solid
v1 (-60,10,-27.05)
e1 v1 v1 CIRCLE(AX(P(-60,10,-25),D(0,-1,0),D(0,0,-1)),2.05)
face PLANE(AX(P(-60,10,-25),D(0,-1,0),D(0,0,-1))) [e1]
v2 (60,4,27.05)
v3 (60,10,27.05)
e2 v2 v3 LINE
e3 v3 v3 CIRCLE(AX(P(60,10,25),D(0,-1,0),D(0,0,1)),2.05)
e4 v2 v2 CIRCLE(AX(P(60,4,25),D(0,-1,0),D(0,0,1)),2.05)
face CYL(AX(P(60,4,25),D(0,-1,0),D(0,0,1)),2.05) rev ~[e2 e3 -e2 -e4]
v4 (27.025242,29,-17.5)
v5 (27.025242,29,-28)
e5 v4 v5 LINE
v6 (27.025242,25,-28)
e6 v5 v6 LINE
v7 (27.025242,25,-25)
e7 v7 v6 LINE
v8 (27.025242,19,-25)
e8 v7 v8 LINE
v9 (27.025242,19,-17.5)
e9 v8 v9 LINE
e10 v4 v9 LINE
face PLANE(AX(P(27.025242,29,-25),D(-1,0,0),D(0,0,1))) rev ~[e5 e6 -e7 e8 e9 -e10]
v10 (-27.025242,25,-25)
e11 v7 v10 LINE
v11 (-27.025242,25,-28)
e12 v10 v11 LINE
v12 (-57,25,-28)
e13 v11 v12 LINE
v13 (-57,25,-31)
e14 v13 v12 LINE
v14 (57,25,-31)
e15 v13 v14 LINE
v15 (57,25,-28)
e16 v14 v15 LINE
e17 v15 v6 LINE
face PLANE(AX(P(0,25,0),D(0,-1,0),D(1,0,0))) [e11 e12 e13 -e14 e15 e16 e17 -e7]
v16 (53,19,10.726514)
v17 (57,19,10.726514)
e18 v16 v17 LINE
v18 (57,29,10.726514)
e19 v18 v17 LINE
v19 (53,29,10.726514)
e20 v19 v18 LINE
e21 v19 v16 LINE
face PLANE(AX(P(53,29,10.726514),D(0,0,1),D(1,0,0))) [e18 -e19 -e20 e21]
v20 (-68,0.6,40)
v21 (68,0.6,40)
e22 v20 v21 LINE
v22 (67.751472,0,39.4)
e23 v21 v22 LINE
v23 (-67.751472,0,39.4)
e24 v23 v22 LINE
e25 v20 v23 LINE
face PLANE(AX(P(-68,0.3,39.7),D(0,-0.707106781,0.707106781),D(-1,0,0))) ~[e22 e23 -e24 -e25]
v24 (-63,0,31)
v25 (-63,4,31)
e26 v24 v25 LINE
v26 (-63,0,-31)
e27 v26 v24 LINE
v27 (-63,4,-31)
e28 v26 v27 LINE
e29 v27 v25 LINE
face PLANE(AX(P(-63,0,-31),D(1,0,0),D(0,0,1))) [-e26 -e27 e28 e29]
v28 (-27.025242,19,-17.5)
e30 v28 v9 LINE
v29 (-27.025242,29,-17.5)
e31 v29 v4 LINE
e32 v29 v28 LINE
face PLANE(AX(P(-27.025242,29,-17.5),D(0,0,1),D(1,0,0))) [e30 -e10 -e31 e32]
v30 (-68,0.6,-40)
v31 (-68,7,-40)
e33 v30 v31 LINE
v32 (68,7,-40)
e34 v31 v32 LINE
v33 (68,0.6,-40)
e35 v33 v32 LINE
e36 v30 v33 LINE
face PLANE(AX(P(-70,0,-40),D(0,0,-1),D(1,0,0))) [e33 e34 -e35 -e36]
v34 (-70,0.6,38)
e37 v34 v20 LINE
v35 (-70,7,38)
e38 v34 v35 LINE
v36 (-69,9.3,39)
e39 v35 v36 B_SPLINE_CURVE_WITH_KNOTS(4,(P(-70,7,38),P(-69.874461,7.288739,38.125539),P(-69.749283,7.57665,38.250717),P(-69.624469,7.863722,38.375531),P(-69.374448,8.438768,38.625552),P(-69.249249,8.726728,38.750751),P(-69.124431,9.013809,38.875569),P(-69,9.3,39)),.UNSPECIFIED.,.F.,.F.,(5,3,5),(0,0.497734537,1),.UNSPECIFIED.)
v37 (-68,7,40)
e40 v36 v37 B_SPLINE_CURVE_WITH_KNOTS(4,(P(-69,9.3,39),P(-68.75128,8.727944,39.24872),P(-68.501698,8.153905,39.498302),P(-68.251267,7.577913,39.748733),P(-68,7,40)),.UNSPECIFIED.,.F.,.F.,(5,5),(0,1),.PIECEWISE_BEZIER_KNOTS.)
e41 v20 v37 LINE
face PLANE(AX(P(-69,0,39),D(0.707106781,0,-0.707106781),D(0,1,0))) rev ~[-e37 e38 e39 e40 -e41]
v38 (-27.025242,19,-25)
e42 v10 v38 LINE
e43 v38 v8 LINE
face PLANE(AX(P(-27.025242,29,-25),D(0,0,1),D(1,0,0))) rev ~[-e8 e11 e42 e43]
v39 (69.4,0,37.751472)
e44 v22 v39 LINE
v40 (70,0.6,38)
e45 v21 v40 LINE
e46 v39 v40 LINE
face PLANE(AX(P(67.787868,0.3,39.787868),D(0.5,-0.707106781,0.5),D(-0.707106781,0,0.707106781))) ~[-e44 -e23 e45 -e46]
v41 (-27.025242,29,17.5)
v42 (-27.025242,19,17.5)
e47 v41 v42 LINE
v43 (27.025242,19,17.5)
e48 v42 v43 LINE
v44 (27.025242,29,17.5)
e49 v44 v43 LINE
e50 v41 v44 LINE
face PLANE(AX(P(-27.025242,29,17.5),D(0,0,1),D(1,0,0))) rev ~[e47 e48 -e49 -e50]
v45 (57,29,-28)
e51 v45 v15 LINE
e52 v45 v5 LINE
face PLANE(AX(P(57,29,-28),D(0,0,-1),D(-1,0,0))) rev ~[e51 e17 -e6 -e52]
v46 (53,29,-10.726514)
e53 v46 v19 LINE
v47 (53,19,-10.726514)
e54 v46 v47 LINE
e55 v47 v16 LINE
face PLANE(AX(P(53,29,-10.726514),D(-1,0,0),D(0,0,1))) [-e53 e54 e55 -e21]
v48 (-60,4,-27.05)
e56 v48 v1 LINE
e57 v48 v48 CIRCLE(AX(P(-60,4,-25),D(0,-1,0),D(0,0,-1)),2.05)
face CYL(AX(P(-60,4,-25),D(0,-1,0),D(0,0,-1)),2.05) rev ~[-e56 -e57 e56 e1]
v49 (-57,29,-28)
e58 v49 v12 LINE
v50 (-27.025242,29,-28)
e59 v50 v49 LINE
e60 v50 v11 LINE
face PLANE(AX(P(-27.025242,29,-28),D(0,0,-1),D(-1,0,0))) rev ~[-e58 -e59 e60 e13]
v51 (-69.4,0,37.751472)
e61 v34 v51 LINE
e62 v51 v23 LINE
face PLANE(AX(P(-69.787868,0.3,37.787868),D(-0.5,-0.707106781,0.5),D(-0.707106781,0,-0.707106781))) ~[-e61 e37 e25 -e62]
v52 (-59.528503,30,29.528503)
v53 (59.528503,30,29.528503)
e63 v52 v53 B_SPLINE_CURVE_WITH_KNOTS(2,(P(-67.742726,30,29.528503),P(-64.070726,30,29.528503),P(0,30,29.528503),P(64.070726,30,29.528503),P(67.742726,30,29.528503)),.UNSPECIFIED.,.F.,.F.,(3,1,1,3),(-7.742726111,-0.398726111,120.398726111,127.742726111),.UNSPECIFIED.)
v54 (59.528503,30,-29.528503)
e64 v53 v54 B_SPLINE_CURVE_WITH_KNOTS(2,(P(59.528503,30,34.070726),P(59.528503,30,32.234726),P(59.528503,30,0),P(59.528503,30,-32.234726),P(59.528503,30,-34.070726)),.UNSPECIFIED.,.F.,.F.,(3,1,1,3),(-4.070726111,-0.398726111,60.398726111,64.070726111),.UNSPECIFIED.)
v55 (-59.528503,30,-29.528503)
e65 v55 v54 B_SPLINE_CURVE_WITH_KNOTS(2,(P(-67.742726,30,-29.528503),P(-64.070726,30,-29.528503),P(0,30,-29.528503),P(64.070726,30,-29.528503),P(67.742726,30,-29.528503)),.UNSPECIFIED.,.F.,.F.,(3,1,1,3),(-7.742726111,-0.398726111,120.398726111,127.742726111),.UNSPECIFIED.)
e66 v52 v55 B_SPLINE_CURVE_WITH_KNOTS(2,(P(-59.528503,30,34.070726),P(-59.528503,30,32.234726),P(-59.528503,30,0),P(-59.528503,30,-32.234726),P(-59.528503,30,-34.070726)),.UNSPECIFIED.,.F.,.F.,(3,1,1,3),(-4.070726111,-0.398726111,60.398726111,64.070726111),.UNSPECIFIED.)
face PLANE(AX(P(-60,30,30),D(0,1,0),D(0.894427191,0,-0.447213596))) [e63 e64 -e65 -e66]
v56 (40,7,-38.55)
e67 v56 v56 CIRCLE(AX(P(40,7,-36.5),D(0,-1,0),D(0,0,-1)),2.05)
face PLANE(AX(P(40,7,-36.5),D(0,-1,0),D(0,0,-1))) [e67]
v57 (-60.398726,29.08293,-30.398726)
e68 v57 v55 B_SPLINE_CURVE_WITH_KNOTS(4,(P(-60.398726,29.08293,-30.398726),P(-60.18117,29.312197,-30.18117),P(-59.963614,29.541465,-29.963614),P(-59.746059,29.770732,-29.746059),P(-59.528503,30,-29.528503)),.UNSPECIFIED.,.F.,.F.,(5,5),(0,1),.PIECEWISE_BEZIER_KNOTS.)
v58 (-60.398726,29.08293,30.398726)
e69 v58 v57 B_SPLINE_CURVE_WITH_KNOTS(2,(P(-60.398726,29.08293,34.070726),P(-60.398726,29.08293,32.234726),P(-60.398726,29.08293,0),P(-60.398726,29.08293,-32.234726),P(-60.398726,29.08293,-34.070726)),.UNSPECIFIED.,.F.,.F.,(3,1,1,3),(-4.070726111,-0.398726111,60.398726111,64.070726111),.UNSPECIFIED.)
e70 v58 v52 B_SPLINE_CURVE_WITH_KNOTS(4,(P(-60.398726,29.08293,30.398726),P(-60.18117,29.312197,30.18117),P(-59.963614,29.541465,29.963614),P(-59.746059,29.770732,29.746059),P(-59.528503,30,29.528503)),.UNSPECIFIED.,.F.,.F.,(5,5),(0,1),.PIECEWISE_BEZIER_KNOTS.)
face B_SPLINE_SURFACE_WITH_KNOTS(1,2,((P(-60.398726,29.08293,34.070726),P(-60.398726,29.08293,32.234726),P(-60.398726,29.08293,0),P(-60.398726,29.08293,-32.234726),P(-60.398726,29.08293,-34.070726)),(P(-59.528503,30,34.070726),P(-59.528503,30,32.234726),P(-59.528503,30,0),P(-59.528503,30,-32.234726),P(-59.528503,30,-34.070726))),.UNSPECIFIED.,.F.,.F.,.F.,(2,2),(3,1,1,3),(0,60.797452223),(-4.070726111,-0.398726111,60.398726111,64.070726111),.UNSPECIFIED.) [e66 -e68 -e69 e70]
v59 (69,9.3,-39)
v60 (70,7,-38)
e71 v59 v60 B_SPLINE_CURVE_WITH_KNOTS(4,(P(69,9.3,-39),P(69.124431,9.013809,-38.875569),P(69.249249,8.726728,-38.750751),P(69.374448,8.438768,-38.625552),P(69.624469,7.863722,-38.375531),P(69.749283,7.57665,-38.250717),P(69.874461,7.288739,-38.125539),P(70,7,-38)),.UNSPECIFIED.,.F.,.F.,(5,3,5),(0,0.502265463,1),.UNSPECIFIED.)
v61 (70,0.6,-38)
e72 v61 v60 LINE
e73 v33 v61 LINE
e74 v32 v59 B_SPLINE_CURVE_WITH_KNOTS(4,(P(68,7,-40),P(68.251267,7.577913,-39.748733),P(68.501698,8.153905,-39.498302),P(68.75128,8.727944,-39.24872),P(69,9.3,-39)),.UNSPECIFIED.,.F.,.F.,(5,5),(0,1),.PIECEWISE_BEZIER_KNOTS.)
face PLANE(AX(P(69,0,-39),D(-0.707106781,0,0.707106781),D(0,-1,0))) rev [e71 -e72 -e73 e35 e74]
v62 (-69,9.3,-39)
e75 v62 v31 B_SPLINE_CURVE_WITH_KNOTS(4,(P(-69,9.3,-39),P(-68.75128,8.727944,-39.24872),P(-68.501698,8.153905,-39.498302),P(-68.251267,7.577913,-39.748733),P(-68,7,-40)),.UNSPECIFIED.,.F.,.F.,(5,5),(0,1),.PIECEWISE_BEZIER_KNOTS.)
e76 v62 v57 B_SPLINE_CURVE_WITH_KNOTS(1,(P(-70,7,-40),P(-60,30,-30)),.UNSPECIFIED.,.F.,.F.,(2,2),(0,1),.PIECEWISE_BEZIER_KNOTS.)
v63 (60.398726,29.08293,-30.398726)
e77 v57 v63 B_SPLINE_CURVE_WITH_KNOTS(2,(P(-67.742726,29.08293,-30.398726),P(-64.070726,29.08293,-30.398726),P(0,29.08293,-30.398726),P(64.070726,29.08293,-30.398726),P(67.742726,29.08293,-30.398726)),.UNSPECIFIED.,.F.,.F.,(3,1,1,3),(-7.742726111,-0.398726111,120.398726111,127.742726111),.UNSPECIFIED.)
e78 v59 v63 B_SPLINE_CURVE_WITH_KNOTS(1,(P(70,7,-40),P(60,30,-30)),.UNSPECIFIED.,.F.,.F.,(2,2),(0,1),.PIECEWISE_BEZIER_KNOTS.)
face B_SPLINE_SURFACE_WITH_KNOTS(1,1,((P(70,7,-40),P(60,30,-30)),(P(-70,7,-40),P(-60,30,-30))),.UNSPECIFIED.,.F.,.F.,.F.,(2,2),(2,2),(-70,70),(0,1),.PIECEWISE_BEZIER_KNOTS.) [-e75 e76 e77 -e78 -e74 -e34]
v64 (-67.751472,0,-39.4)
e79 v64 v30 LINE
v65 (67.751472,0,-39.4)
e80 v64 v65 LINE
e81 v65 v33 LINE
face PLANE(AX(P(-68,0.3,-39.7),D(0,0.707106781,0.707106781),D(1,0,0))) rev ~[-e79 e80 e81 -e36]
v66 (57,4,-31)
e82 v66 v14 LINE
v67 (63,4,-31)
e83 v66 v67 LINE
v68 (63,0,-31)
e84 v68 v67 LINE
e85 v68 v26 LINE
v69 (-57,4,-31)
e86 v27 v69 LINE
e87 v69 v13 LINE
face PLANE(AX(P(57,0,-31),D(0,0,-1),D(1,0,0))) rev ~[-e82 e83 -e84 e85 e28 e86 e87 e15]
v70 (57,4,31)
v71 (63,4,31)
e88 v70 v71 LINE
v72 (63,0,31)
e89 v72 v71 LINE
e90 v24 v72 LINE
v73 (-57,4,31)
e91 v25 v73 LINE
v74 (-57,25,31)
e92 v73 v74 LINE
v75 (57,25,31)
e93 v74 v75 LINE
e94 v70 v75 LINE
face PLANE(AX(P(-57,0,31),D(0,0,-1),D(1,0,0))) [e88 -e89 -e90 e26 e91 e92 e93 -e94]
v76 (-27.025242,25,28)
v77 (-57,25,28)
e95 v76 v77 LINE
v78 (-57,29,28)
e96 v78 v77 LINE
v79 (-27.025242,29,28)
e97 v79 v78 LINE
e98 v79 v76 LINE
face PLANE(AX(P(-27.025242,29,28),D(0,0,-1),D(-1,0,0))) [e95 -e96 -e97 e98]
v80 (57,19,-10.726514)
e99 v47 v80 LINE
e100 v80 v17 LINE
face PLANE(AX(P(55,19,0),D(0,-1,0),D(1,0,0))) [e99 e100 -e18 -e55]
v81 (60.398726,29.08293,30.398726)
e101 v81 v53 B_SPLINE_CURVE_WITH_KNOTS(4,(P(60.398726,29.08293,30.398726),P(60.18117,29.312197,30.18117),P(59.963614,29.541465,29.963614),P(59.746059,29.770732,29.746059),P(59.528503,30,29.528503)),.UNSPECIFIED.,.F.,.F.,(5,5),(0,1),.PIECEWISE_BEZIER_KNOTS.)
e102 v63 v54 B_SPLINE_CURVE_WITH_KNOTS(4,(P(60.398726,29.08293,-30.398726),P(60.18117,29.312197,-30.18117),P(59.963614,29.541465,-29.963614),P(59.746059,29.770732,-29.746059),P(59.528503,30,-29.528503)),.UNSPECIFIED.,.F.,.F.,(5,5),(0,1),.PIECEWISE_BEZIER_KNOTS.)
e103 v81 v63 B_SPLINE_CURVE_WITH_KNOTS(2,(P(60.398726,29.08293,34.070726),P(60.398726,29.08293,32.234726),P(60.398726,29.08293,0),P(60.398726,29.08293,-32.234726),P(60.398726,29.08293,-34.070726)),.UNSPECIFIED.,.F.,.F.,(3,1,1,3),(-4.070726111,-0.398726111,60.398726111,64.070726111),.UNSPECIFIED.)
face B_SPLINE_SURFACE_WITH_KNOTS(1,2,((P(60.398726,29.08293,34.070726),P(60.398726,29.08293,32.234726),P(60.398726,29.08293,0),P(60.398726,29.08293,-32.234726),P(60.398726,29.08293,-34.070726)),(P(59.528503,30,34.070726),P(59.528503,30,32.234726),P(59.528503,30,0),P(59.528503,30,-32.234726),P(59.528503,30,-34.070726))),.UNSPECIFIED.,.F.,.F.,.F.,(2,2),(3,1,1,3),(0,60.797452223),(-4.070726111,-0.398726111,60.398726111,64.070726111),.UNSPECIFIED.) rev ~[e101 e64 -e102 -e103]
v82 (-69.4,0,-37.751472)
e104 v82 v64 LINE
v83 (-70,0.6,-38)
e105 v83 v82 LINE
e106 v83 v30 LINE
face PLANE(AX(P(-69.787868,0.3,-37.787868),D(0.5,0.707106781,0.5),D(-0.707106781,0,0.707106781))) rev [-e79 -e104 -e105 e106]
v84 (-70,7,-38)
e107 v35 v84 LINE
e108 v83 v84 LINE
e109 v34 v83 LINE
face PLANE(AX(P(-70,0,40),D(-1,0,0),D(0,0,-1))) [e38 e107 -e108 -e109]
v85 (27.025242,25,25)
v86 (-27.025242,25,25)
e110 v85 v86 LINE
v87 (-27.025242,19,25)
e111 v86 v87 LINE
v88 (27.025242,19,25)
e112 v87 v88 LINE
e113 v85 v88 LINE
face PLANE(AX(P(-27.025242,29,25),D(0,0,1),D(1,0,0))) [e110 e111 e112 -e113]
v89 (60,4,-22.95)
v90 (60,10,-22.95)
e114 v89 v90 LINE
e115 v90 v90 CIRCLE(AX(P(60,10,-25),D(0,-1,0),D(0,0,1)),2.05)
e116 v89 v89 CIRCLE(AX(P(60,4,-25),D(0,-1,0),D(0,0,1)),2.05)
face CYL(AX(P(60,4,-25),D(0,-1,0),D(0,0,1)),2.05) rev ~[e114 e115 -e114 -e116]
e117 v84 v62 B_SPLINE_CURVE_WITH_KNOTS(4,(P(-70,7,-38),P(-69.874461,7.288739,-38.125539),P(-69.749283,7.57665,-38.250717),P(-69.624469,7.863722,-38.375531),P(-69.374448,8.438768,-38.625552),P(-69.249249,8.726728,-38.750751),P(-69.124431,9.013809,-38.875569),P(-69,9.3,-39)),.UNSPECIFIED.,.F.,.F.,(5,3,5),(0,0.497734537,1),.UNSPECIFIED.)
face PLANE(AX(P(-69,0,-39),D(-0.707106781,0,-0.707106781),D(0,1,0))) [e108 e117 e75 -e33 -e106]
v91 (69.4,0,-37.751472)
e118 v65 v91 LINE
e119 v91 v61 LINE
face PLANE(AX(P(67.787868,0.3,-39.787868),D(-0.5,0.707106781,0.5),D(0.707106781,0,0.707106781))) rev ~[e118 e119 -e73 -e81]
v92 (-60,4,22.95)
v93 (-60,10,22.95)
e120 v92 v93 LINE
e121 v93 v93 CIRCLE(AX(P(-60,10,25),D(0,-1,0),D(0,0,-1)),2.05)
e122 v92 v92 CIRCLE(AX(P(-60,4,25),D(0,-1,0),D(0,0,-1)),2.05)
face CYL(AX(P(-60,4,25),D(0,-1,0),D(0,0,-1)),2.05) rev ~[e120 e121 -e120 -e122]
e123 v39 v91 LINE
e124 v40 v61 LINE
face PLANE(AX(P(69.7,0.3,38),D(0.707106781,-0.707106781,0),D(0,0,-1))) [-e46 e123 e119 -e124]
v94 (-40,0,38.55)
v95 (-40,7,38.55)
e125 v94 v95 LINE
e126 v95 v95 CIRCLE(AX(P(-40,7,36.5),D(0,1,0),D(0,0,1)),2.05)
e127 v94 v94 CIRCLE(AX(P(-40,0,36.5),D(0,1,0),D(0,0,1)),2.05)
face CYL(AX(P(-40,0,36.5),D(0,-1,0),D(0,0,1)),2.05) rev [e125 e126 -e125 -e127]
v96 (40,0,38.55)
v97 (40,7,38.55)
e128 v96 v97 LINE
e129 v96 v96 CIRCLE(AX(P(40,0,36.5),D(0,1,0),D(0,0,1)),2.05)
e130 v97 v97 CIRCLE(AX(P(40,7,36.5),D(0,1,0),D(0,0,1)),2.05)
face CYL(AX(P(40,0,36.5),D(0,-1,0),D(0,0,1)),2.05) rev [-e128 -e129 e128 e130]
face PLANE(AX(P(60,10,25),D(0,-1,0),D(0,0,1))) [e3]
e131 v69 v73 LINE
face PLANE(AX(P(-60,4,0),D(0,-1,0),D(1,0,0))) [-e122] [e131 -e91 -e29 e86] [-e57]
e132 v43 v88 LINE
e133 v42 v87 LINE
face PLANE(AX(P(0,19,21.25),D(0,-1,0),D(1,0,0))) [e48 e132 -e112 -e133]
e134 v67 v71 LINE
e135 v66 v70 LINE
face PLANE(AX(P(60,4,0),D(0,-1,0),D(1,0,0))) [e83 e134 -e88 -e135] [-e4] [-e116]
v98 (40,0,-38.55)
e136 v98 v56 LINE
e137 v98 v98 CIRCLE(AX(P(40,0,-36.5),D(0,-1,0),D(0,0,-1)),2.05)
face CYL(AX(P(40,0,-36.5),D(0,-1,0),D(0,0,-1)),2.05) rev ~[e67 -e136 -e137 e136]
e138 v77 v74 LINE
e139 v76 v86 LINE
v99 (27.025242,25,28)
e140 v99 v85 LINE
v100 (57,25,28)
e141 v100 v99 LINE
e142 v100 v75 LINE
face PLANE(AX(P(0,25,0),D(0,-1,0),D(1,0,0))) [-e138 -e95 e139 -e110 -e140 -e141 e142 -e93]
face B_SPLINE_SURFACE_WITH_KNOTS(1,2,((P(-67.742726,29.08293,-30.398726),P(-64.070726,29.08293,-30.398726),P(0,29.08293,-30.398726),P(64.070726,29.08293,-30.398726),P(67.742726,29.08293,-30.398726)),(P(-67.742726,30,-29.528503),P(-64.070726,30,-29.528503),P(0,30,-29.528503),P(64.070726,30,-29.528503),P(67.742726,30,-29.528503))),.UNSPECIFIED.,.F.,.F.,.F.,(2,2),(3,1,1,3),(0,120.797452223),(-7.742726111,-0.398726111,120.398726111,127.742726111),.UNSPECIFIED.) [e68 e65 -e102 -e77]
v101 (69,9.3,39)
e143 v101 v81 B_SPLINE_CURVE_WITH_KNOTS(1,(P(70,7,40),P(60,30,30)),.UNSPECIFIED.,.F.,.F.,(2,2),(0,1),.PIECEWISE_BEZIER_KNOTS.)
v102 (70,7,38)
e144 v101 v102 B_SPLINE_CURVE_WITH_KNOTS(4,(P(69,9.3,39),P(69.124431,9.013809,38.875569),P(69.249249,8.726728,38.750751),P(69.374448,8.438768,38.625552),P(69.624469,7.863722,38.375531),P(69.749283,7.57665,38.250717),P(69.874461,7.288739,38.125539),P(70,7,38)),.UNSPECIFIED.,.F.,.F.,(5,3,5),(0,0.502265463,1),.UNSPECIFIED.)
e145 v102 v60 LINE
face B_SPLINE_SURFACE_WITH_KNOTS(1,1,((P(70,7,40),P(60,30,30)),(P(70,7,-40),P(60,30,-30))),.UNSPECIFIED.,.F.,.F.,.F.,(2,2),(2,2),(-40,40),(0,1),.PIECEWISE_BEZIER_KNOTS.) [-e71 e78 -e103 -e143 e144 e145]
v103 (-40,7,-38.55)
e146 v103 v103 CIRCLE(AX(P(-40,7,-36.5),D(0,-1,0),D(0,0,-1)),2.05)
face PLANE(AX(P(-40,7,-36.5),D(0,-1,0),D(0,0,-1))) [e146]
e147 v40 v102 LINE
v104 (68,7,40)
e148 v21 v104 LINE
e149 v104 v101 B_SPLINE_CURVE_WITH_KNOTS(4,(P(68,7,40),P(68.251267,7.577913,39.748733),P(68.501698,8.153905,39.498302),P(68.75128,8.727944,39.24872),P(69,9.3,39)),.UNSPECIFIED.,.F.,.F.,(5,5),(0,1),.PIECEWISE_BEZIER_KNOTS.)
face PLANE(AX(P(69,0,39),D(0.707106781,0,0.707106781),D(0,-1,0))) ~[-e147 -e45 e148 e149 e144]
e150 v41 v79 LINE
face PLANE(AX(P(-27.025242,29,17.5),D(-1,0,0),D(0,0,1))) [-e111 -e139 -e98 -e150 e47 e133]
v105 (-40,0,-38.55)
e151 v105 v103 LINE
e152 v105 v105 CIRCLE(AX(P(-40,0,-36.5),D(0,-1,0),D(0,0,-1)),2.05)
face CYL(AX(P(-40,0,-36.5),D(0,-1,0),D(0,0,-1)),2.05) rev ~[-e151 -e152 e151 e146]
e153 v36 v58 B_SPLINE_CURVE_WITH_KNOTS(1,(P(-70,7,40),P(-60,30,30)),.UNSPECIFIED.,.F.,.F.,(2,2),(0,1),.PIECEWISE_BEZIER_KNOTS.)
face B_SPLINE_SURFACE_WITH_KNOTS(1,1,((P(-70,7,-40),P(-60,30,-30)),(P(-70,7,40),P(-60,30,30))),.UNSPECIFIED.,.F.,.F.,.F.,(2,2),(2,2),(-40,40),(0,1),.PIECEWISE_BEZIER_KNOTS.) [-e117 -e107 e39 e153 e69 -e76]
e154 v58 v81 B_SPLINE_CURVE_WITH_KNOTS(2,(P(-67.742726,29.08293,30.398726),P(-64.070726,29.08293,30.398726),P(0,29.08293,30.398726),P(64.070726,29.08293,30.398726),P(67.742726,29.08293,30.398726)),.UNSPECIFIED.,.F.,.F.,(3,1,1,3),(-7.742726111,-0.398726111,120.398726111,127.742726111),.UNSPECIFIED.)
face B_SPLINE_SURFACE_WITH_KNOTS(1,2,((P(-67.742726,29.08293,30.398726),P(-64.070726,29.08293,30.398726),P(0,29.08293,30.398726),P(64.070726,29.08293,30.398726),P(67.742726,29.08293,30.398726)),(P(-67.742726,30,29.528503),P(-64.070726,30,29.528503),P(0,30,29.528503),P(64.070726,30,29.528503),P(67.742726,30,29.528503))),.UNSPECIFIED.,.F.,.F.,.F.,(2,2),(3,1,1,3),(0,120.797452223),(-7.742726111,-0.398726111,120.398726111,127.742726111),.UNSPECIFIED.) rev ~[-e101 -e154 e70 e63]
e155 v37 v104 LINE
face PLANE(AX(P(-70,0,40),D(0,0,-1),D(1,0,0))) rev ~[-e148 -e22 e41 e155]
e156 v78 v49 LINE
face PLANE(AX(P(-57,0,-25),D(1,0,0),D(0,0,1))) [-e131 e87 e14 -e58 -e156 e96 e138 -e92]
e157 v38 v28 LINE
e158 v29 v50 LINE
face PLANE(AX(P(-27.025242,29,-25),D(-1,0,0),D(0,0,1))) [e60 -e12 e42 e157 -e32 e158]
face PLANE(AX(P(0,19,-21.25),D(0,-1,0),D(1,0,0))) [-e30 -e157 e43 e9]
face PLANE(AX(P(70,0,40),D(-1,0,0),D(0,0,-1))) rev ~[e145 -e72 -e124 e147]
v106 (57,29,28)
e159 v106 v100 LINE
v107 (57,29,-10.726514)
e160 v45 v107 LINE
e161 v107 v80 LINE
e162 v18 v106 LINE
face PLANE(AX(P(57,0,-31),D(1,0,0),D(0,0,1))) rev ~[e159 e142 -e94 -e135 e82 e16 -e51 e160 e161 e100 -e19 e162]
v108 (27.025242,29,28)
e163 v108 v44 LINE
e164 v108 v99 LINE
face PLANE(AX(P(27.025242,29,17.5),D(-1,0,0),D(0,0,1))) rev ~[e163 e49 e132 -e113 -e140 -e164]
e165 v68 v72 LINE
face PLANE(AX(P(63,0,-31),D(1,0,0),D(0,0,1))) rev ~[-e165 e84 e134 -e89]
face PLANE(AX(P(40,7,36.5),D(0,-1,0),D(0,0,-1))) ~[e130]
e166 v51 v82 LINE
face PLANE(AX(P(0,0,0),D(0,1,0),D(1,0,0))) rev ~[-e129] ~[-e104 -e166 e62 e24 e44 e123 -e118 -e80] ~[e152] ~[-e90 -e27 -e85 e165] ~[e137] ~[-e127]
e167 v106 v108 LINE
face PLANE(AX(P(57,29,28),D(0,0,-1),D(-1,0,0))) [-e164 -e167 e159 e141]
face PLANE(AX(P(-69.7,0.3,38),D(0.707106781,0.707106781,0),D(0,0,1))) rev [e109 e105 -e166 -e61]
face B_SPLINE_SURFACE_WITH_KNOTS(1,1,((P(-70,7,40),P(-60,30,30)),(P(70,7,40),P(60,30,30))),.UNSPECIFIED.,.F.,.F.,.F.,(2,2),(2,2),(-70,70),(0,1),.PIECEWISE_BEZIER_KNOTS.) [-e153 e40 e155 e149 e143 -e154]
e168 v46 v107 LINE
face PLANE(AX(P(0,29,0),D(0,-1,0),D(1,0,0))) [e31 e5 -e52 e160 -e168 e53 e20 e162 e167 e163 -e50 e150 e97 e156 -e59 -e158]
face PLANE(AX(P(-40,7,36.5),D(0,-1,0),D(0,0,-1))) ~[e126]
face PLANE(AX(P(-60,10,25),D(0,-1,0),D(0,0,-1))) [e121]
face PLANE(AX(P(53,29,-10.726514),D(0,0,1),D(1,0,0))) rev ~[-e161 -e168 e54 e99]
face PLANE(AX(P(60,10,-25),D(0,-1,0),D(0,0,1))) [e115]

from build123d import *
from OCP.BRepFilletAPI import BRepFilletAPI_MakeChamfer

# Parameters (mm, degrees)
SKETCH1_W                       = 140
SKETCH1_H                       = 80
BOSS_EXTRUDE1_DEPTH             = 7
SKETCH3_W                       = 140
SKETCH3_H                       = 80
SKETCH2_W                       = 120
SKETCH2_H                       = 60
CHAMFER1_SIZE                   = 2
SKETCH4_R                       = 2.05
CUT_EXTRUDE1_DEPTH              = 7
SKETCH5_W                       = 114
SKETCH5_H                       = 50
CUT_EXTRUDE2_DEPTH              = 29
SKETCH6_W                       = 114
SKETCH6_H                       = 62
CUT_EXTRUDE3_DEPTH              = 25
SKETCH7_W                       = 6
SKETCH7_H                       = 62
CUT_EXTRUDE4_DEPTH              = 4
SKETCH8_R                       = 2.05
CUT_EXTRUDE5_DEPTH              = 6
CHAMFER2_SIZE                   = 1
CHAMFER2_SIZE2                  = 0.471497246
CHAMFER3_SIZE                   = 0.6
SKIZZE1_W                       = 54.050484576
SKIZZE1_H                       = 7.5
SKIZZE1_W_2                     = 4
SKIZZE1_H_2                     = 21.453027382
AUFSATZ_LINEAR_AUSTRAGEN1_DEPTH = 10
SKIZZE3_W                       = 29.974757712
SKIZZE3_H                       = 3
SCHNITT_LINEAR_AUSTRAGEN2_DEPTH = 4


with BuildPart() as part:
    # Sketch1 → Boss-Extrude1 (new body)
    with BuildSketch(Plane(origin=(0, 0, 0), x_dir=(1, 0, 0), z_dir=(0, 1, 0))):
        Rectangle(SKETCH1_W, SKETCH1_H)
    extrude(amount=BOSS_EXTRUDE1_DEPTH)

    # Sketch3 → Loft2 section 0
    with BuildSketch(Plane(origin=(0, 7, 0), x_dir=(1, 0, 0), z_dir=(0, 1, 0))):
        Rectangle(SKETCH3_W, SKETCH3_H)
    # Sketch2 → Loft2 section 1
    with BuildSketch(Plane(origin=(0, 30, 0), x_dir=(1, 0, 0), z_dir=(0, 1, 0))):
        Rectangle(SKETCH2_W, SKETCH2_H)
    loft()

    # Chamfer1
    chamfer1_edges = [part.edges().sort_by_distance(p)[0] for p in [
        (-70, 3.5, 40),
        (70, 3.5, 40),
        (70, 3.5, -40),
        (-70, 3.5, -40),
    ]]
    chamfer(chamfer1_edges, length=CHAMFER1_SIZE)

    # Sketch4 → Cut-Extrude1 (cut)
    with BuildSketch(Plane.XZ):
        with Locations(Location((40, -36.5, 0), (0, 0, 270))):
            Circle(SKETCH4_R)
        with Locations(Location((-40, -36.5, 0), (0, 0, 270))):
            Circle(SKETCH4_R)
    cut_extrude1 = extrude(amount=-CUT_EXTRUDE1_DEPTH, mode=Mode.SUBTRACT)

    # Sketch5 → Cut-Extrude2 (cut)
    with BuildSketch(Plane.XZ):
        Rectangle(SKETCH5_W, SKETCH5_H)
    extrude(amount=-CUT_EXTRUDE2_DEPTH, mode=Mode.SUBTRACT)

    # Mirror1: Cut-Extrude1 across plane
    add(cut_extrude1.mirror(Plane.XY), mode=Mode.SUBTRACT)

    # Sketch6 → Cut-Extrude3 (cut)
    with BuildSketch(Plane.XZ):
        Rectangle(SKETCH6_W, SKETCH6_H)
    extrude(amount=-CUT_EXTRUDE3_DEPTH, mode=Mode.SUBTRACT)

    # Sketch7 → Cut-Extrude4 (cut)
    with BuildSketch(Plane.XZ):
        with Locations((-60, 0)):
            Rectangle(SKETCH7_W, SKETCH7_H)
        with Locations((60, 0)):
            Rectangle(SKETCH7_W, SKETCH7_H)
    extrude(amount=-CUT_EXTRUDE4_DEPTH, mode=Mode.SUBTRACT)

    # Sketch8 → Cut-Extrude5 (cut)
    with BuildSketch(Plane.XZ.offset(-4)):
        with Locations(Location((-60, 25, 0), (0, 0, 270))):
            Circle(SKETCH8_R)
        with Locations(Location((-60, -25, 0), (0, 0, 270))):
            Circle(SKETCH8_R)
        with Locations(Location((60, -25, 0), (0, 0, 90))):
            Circle(SKETCH8_R)
        with Locations(Location((60, 25, 0), (0, 0, 90))):
            Circle(SKETCH8_R)
    extrude(amount=-CUT_EXTRUDE5_DEPTH, mode=Mode.SUBTRACT)

    # Chamfer2: one chamfer whose edges measure the first distance from different faces: ONE call of the kernel's chamfer builder (chamfer() names one face for all edges)
    chamfer2_edges_1 = [part.edges().sort_by_distance(p)[0] for p in [
        (60, 30, 0),
    ]]
    chamfer2_side_1 = [part.faces().sort_by_distance(p)[0] for p in [
        (65.225405922, 17.98156638, 0),
    ]]
    chamfer2_edges_2 = [part.edges().sort_by_distance(p)[0] for p in [
        (0, 30, -30),
    ]]
    chamfer2_side_2 = [part.faces().sort_by_distance(p)[0] for p in [
        (0, 18.221212121, -35.121212121),
    ]]
    chamfer2_edges_3 = [part.edges().sort_by_distance(p)[0] for p in [
        (-60, 30, 0),
    ]]
    chamfer2_side_3 = [part.faces().sort_by_distance(p)[0] for p in [
        (-65.225405922, 17.98156638, 0),
    ]]
    chamfer2_edges_4 = [part.edges().sort_by_distance(p)[0] for p in [
        (0, 30, 30),
    ]]
    chamfer2_side_4 = [part.faces().sort_by_distance(p)[0] for p in [
        (0, 18.221212121, 35.121212121),
    ]]
    chamfer2 = BRepFilletAPI_MakeChamfer(part.part.solid().wrapped)
    for e in chamfer2_edges_1:
        chamfer2.Add(CHAMFER2_SIZE, CHAMFER2_SIZE2, e.wrapped, chamfer2_side_1[0].wrapped)  # the first distance lies on this face
    for e in chamfer2_edges_2:
        chamfer2.Add(CHAMFER2_SIZE, CHAMFER2_SIZE2, e.wrapped, chamfer2_side_2[0].wrapped)  # the first distance lies on this face
    for e in chamfer2_edges_3:
        chamfer2.Add(CHAMFER2_SIZE, CHAMFER2_SIZE2, e.wrapped, chamfer2_side_3[0].wrapped)  # the first distance lies on this face
    for e in chamfer2_edges_4:
        chamfer2.Add(CHAMFER2_SIZE, CHAMFER2_SIZE2, e.wrapped, chamfer2_side_4[0].wrapped)  # the first distance lies on this face
    add(Compound.cast(chamfer2.Shape()), mode=Mode.REPLACE)

    # Chamfer3
    chamfer3_edges = [part.edges().sort_by_distance(p)[0] for p in [
        (0, 0, 40),
        (70, 0, 0),
        (-70, 0, 0),
        (0, 0, -40),
        (-69, 0, -39),
        (69, 0, -39),
        (69, 0, 39),
        (-69, 0, 39),
    ]]
    chamfer(chamfer3_edges, length=CHAMFER3_SIZE)

    # Skizze1 → Aufsatz-Linear austragen1 (add)
    with BuildSketch(Plane.XZ.offset(-29)):
        with Locations((0, -21.25)):
            Rectangle(SKIZZE1_W, SKIZZE1_H)
        with Locations((0, 21.25)):
            Rectangle(SKIZZE1_W, SKIZZE1_H)
        with Locations((55, 0)):
            Rectangle(SKIZZE1_W_2, SKIZZE1_H_2)
    extrude(amount=AUFSATZ_LINEAR_AUSTRAGEN1_DEPTH)

    # Skizze3 → Schnitt-Linear austragen2 (cut)
    with BuildSketch(Plane(origin=(0, 29, 0), x_dir=(-1, 0, 0), z_dir=(0, -1, 0))):
        with Locations((42.012621144, -26.5)):
            Rectangle(SKIZZE3_W, SKIZZE3_H)
        with Locations((-42.012621144, -26.5)):
            Rectangle(SKIZZE3_W, SKIZZE3_H)
        with Locations((42.012621144, 26.5)):
            Rectangle(SKIZZE3_W, SKIZZE3_H)
        with Locations((-42.012621144, 26.5)):
            Rectangle(SKIZZE3_W, SKIZZE3_H)
    extrude(amount=SCHNITT_LINEAR_AUSTRAGEN2_DEPTH, mode=Mode.SUBTRACT)


solid = part.part
